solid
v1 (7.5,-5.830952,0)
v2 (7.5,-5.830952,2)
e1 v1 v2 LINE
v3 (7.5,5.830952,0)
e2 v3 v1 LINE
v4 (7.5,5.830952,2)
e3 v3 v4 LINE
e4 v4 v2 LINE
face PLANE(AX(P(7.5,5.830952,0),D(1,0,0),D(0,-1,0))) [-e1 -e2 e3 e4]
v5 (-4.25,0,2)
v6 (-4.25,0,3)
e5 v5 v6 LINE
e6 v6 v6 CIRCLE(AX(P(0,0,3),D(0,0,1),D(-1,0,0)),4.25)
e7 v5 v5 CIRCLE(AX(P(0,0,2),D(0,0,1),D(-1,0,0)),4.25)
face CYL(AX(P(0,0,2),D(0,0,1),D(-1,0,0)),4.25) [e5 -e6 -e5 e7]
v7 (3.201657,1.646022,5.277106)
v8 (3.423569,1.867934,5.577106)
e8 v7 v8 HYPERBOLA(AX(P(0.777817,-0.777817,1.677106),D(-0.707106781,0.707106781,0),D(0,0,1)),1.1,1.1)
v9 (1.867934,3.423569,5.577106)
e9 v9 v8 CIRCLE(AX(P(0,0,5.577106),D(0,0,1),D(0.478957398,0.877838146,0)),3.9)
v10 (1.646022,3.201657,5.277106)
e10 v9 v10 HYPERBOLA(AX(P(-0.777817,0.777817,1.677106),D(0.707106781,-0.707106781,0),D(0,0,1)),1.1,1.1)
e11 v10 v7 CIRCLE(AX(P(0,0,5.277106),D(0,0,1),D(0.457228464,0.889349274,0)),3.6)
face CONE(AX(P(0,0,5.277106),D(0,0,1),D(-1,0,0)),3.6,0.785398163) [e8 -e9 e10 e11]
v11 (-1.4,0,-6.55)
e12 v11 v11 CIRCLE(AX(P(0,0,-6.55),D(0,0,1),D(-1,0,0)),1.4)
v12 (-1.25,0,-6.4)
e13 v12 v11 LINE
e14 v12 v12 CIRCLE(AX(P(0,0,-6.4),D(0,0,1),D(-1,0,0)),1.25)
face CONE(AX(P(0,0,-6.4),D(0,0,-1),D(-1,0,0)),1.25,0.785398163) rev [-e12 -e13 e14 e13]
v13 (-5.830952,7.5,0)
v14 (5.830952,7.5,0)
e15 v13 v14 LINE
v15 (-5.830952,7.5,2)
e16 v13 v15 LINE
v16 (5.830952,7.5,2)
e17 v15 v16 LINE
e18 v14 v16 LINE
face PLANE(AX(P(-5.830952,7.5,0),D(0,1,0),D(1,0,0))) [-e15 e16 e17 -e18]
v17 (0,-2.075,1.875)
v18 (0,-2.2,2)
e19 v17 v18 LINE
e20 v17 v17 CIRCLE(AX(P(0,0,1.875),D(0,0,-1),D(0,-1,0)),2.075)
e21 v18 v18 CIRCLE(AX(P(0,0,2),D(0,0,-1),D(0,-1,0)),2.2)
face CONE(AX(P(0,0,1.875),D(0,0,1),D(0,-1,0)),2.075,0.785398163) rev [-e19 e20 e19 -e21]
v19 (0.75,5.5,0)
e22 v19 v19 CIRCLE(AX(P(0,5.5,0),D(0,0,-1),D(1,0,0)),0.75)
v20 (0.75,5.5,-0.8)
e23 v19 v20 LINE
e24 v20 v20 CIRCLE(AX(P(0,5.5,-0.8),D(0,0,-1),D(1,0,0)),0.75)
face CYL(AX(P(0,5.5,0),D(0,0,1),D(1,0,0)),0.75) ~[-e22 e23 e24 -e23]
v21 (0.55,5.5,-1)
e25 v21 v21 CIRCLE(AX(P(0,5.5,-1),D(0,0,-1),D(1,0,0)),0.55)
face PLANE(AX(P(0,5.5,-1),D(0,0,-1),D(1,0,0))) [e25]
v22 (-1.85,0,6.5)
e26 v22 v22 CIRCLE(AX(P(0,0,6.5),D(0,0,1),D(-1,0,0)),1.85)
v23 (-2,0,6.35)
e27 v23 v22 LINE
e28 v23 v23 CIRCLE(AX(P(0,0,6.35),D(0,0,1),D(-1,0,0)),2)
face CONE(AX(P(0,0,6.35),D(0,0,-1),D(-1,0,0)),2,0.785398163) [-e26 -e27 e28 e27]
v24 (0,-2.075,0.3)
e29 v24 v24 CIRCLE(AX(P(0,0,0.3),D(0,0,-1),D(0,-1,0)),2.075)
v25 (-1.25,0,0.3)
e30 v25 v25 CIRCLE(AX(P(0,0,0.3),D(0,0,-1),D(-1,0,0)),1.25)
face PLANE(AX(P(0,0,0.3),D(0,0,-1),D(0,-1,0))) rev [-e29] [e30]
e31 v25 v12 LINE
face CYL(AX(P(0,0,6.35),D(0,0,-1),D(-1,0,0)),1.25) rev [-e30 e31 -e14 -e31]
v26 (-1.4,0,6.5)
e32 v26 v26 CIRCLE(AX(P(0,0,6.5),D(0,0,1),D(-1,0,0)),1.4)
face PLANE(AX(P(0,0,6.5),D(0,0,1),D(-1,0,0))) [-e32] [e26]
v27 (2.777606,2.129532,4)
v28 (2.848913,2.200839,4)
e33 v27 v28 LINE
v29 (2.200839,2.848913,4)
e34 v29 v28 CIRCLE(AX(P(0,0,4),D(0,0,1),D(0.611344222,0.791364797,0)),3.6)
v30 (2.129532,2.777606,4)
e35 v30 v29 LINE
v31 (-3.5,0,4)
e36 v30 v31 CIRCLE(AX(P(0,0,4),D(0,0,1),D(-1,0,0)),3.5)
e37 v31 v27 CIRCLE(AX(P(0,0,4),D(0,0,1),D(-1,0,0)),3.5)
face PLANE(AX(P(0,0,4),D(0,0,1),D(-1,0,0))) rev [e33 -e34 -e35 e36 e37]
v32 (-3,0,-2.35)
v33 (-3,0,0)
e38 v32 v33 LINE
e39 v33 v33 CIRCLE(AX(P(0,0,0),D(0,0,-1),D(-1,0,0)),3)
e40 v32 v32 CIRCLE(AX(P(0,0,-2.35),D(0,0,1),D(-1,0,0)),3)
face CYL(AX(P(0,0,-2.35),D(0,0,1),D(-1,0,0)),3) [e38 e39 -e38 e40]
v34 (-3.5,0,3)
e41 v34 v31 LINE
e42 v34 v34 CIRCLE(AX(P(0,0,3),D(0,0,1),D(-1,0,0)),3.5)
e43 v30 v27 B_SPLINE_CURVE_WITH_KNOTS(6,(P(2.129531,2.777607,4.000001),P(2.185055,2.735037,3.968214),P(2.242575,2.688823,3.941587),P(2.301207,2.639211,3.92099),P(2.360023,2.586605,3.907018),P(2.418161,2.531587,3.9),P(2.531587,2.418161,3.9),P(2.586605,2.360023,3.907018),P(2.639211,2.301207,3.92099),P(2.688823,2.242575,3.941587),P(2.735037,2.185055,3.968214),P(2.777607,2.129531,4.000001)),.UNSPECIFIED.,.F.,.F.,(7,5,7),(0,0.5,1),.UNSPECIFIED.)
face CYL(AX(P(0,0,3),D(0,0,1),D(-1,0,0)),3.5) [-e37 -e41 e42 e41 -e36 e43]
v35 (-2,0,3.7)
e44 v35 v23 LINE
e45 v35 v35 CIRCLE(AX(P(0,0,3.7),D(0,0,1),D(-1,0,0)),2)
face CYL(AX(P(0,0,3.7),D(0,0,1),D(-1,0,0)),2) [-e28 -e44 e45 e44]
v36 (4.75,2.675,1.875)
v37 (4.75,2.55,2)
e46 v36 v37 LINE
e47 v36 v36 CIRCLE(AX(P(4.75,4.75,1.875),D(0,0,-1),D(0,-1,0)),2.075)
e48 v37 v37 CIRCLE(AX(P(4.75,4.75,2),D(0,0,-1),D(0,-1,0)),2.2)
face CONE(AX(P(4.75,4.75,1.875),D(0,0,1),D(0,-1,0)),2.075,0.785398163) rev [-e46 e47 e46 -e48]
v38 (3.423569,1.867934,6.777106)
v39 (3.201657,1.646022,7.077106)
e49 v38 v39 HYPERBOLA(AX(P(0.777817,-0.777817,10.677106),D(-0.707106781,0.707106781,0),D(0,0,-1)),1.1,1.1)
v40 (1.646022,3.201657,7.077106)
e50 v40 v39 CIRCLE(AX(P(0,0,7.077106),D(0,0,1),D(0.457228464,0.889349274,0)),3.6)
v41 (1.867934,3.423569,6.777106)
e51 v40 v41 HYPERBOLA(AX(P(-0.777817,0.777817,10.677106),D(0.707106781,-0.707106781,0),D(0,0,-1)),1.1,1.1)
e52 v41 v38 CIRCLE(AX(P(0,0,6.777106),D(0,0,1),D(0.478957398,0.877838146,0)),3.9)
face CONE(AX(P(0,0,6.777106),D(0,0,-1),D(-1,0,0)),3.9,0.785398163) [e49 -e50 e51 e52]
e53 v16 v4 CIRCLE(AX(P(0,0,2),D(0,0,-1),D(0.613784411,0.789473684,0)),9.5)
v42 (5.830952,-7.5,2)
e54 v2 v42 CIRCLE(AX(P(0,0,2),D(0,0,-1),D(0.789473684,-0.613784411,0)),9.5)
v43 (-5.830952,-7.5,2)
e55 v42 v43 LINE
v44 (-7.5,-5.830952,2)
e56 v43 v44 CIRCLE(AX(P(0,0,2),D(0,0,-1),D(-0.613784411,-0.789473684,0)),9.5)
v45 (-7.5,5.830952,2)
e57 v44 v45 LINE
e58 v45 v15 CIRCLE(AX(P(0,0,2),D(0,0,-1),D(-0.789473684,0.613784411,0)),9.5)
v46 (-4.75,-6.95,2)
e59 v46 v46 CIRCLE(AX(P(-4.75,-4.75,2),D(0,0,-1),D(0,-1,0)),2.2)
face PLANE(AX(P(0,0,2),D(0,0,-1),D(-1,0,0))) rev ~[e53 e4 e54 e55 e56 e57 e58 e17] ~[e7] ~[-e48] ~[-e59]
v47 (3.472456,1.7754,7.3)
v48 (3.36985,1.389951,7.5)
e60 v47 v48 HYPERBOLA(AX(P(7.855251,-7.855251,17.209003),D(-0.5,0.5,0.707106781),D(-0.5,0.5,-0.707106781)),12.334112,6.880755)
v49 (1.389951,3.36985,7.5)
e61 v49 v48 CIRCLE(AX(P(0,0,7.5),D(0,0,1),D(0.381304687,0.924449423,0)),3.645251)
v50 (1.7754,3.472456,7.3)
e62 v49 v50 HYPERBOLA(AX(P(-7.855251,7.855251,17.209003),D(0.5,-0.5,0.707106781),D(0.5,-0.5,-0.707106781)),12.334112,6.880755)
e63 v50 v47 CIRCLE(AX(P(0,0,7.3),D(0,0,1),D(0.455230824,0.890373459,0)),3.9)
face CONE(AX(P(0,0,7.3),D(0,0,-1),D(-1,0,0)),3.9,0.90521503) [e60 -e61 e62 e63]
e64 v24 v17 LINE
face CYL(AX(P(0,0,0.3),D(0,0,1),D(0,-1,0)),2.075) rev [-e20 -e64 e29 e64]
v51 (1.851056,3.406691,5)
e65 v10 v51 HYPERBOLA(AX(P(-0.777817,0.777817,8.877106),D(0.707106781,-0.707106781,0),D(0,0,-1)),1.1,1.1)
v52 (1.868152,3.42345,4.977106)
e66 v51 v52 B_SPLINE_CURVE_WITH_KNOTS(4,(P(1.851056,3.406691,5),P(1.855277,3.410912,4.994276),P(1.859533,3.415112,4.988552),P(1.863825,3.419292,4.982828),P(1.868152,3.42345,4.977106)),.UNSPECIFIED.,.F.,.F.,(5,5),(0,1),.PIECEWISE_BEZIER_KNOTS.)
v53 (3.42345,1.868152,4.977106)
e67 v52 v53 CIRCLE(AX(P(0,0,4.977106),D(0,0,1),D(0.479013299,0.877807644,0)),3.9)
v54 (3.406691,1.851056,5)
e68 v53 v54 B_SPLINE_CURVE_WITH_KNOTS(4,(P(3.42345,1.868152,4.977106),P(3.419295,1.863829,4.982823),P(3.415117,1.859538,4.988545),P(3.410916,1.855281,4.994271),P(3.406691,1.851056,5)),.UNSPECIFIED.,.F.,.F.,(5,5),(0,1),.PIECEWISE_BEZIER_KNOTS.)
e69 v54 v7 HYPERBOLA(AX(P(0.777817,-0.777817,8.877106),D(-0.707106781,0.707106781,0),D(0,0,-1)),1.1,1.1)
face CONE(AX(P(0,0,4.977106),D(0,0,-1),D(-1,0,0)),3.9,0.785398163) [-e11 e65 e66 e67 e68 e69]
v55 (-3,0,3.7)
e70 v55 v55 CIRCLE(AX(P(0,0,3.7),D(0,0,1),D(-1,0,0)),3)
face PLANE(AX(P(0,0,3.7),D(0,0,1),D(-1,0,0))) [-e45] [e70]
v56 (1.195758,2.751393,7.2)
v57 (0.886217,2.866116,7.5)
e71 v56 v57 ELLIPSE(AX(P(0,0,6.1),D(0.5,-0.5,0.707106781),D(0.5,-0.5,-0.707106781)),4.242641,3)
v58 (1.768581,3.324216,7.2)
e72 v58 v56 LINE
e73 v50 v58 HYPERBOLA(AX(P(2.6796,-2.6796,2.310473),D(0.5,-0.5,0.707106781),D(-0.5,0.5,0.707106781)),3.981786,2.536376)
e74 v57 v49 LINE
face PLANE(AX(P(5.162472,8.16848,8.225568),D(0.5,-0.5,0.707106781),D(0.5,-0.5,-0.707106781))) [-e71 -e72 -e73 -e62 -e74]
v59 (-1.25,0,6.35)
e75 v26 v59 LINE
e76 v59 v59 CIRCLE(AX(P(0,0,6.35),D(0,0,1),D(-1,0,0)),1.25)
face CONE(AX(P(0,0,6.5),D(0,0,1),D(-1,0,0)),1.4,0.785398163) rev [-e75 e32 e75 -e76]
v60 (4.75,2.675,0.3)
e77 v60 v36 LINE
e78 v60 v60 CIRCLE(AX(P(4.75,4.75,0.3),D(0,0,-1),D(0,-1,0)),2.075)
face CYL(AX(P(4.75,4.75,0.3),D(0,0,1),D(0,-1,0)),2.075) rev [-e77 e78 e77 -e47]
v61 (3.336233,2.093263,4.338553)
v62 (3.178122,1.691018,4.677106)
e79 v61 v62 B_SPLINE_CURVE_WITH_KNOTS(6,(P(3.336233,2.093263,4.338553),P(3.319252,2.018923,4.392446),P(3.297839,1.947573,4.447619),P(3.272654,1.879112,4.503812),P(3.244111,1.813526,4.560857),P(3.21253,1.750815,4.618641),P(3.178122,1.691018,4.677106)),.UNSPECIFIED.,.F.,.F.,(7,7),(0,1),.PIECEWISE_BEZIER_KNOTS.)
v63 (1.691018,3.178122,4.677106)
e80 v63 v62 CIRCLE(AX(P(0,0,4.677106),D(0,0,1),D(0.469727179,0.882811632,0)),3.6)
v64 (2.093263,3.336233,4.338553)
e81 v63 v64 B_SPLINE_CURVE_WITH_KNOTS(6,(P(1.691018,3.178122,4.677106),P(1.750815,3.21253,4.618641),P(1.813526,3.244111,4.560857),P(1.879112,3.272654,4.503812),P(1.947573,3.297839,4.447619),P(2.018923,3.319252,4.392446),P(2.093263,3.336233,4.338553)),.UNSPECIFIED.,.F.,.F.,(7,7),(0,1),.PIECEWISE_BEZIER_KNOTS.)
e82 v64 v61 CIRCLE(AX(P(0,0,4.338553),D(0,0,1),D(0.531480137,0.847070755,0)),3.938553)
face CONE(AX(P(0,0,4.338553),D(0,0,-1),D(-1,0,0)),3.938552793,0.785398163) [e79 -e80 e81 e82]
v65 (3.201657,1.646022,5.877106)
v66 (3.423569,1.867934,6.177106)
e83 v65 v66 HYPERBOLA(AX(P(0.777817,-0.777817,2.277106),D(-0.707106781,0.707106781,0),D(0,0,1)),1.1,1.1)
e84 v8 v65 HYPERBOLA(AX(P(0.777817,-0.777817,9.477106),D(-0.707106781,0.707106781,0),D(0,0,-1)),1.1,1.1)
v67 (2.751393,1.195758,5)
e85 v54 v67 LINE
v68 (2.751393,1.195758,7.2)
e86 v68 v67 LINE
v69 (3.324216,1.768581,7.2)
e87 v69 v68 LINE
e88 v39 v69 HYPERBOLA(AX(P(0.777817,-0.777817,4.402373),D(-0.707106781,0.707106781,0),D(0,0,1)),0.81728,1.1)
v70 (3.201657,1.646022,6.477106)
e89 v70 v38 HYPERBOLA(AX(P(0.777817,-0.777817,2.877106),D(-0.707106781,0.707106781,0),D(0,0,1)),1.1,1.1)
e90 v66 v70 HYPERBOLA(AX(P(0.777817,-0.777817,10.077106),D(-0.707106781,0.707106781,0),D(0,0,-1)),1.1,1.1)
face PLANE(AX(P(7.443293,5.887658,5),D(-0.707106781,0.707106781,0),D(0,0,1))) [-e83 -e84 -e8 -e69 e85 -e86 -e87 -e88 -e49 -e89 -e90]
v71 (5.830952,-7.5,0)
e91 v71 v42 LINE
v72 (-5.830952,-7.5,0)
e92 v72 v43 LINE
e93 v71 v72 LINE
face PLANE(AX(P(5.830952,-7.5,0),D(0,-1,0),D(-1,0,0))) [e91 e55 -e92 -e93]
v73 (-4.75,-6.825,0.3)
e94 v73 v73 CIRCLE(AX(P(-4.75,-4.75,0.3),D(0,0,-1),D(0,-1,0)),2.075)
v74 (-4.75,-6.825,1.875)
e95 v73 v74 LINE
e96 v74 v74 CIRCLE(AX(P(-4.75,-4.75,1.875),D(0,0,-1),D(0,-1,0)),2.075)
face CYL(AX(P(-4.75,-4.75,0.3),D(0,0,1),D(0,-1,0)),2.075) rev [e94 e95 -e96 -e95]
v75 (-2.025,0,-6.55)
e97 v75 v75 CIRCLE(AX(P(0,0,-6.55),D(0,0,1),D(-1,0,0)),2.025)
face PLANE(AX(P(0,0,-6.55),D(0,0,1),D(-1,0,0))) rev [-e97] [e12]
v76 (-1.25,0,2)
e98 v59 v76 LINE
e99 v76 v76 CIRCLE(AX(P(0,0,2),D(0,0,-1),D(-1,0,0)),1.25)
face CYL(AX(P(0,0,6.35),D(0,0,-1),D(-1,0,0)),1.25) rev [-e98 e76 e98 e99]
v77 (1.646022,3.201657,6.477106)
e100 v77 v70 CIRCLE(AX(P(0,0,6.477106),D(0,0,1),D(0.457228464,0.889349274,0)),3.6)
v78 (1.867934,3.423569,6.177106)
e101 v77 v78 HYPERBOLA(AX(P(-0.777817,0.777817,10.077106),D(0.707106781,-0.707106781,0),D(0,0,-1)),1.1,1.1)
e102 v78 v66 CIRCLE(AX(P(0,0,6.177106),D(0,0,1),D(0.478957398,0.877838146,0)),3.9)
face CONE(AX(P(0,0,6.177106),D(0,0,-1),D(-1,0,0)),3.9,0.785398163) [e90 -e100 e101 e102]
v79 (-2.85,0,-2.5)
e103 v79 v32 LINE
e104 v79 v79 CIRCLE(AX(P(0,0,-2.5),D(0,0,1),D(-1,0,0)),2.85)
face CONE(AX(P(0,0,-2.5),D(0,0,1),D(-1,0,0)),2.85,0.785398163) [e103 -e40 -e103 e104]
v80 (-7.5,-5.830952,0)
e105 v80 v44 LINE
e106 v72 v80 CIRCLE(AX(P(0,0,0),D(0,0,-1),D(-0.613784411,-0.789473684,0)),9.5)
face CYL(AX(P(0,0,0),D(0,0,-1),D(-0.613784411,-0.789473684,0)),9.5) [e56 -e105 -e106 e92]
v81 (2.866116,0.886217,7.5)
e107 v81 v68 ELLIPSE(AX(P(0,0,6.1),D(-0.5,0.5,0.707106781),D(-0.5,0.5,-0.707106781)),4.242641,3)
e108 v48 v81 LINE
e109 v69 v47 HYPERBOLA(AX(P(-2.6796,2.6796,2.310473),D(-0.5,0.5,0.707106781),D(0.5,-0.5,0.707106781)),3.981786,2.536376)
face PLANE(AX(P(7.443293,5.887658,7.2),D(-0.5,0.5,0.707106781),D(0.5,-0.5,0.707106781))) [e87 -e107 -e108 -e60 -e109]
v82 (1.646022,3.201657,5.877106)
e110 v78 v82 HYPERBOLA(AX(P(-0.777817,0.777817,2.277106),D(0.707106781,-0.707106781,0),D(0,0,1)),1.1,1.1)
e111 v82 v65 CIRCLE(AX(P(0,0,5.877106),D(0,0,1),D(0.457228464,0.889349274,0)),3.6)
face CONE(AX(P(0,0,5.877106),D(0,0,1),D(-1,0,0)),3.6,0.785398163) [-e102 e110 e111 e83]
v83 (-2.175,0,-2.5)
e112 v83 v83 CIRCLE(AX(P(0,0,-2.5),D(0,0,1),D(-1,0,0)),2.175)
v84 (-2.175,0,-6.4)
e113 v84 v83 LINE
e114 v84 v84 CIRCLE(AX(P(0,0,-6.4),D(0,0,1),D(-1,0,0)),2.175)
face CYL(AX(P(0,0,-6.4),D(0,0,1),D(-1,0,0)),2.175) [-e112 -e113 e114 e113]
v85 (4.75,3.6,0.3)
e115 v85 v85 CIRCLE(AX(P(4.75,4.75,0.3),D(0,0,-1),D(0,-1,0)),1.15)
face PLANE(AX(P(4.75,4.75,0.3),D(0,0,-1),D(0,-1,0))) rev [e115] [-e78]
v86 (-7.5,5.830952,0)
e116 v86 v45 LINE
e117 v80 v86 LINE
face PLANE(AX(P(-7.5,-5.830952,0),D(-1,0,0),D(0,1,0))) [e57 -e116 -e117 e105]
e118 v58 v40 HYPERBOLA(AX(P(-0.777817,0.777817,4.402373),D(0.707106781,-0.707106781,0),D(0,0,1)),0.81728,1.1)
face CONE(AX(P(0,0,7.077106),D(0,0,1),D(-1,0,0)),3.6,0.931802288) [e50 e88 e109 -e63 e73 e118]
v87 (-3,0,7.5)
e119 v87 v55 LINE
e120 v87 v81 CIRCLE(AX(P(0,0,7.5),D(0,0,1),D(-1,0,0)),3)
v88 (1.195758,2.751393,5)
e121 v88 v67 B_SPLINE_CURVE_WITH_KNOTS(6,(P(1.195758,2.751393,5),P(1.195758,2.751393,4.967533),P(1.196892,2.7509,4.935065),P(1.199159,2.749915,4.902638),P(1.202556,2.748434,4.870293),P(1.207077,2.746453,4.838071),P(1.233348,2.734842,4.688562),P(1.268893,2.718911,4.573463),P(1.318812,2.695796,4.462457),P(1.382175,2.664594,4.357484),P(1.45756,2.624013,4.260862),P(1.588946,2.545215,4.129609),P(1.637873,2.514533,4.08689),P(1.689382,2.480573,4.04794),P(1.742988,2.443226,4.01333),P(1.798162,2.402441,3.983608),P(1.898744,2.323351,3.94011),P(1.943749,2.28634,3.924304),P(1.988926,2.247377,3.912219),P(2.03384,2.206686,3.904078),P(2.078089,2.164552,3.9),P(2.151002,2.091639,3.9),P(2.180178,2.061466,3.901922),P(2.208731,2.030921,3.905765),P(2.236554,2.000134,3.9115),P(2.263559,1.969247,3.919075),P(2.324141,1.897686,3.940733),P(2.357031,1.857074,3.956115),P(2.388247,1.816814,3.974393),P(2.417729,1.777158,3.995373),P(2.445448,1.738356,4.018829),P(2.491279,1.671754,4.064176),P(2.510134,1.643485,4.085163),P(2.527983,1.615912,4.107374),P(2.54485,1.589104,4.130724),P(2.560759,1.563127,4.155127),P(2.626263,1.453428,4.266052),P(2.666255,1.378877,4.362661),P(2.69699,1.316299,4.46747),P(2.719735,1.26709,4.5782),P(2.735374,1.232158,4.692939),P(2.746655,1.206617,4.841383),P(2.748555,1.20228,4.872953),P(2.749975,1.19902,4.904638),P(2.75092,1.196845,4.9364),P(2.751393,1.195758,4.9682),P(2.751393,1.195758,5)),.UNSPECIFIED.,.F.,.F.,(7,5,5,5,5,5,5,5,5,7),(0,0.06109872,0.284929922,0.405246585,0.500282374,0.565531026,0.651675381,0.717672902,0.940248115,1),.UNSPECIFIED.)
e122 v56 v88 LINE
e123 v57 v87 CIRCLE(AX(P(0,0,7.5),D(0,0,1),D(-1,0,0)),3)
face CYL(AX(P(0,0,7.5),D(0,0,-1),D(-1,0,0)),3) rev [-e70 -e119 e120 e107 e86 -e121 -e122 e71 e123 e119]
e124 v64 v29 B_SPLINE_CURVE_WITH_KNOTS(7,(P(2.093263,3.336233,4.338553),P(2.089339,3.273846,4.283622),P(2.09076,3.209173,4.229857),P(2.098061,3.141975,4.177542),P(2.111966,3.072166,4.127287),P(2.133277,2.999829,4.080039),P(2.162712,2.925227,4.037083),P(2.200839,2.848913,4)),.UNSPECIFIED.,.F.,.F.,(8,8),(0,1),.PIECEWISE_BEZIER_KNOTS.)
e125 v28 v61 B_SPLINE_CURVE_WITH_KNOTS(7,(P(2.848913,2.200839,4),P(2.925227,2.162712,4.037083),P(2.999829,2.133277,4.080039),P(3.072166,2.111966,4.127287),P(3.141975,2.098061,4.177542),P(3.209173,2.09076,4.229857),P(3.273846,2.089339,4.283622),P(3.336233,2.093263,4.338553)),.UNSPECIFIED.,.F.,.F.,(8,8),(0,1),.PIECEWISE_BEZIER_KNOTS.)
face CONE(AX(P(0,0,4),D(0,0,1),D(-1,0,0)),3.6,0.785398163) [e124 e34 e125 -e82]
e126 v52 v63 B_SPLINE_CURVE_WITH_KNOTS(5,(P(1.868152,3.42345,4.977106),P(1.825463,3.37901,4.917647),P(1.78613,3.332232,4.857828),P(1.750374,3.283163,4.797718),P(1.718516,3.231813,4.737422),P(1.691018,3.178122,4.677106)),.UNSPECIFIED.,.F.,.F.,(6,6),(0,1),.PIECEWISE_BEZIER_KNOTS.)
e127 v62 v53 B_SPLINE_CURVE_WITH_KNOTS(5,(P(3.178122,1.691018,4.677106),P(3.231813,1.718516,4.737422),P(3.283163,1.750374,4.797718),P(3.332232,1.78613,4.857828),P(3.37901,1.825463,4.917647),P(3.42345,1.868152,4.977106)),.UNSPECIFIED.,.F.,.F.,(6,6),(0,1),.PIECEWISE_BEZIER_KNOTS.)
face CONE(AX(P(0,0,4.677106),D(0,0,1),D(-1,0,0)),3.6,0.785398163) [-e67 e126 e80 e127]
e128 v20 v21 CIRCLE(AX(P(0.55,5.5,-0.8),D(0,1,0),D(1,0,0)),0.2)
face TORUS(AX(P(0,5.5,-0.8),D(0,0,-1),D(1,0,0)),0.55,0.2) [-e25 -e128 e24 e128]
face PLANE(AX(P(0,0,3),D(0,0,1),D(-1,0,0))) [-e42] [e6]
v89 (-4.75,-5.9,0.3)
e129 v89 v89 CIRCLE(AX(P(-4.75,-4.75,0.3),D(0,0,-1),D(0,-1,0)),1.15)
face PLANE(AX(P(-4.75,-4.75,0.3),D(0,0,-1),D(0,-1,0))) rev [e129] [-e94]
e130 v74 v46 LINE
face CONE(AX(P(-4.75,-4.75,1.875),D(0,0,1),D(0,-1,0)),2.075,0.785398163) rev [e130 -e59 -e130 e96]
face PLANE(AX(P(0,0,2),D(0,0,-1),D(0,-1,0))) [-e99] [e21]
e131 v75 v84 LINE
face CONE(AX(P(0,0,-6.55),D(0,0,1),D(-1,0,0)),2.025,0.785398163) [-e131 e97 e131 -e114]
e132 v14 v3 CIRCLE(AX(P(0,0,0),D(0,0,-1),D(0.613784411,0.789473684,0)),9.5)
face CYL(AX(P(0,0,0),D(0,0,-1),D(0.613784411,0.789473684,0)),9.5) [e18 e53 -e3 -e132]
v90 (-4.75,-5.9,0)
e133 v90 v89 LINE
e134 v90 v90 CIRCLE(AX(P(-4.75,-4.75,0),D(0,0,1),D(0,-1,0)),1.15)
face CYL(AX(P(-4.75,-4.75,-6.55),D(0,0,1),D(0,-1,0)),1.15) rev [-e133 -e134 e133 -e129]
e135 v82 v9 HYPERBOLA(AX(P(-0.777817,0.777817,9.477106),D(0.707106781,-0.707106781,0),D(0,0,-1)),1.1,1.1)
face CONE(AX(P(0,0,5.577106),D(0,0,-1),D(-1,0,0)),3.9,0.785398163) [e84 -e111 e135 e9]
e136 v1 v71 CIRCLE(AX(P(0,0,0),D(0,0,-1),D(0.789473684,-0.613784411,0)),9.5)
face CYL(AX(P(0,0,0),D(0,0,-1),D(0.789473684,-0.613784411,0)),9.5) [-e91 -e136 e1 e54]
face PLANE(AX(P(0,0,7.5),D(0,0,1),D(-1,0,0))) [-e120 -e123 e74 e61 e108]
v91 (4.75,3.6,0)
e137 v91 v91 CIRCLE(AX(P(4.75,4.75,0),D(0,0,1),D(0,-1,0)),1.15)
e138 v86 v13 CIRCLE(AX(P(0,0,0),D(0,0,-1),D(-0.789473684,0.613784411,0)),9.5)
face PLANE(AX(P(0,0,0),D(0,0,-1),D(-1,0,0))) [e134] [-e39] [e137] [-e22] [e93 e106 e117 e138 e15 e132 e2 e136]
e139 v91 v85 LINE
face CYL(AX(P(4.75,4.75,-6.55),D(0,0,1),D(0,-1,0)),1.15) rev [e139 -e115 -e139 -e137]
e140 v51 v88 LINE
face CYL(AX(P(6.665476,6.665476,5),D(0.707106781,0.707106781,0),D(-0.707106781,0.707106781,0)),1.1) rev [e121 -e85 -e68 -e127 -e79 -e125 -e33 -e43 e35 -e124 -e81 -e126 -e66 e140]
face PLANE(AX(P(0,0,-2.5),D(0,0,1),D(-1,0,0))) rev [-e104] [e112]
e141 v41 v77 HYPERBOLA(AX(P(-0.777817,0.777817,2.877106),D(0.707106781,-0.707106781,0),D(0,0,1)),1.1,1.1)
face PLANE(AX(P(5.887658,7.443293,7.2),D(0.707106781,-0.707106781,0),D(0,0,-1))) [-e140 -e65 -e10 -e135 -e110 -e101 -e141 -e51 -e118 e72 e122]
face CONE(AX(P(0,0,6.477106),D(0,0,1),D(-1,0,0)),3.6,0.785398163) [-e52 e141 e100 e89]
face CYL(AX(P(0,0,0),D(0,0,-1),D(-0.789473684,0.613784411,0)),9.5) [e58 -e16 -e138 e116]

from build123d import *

# Parameters (mm, degrees)
ESQUISSE1_R                                = 3
BOSS_EXTRU_1_DEPTH                         = 2
CHAMBRAGE_POUR_VIS_T_TE_HEXAGONALE_2_COUNT = 2
CHAMBRAGE_POUR_VIS_T_TE_HEXAGONALE_2_PITCH = 13.435028843
CHAMBRAGE_POUR_VIS_T_TE_HEXAGONALE_3_COUNT = 2
CHAMBRAGE_POUR_VIS_T_TE_HEXAGONALE_3_PITCH = 6.717514421
ENL_V_MAT_EXTRU_1_DEPTH                    = 7.3
ESQUISSE10_R                               = 0.75
BOSS_EXTRU_2_DEPTH                         = 1
CONG_1_R                                   = 0.2


with BuildPart() as part:
    # Esquisse1 → Boss.-Extru.1 (new body)
    with BuildSketch(Plane.XY):
        with BuildLine():
            Line((-5.830951895, 7.5), (5.830951895, 7.5))
            ThreePointArc((5.830951895, 7.5), (6.717514421, 6.717514421), (7.5, 5.830951895))
            Line((7.5, 5.830951895), (7.5, -5.830951895))
            ThreePointArc((7.5, -5.830951895), (6.717514421, -6.717514421), (5.830951895, -7.5))
            Line((5.830951895, -7.5), (-5.830951895, -7.5))
            ThreePointArc((-5.830951895, -7.5), (-6.717514421, -6.717514421), (-7.5, -5.830951895))
            Line((-7.5, -5.830951895), (-7.5, 5.830951895))
            ThreePointArc((-7.5, 5.830951895), (-6.717514421, 6.717514421), (-5.830951895, 7.5))
        make_face()
        Circle(ESQUISSE1_R, mode=Mode.SUBTRACT)
    extrude(amount=BOSS_EXTRU_1_DEPTH)

    # Esquisse3 → Révolution1 (revolve)
    with BuildSketch(Plane(origin=(0, 0, 0), x_dir=(0, 0, -1), z_dir=(1, 0, 0)), mode=Mode.PRIVATE) as r_volution1_sk:
        Polygon((-7.5, 3.645251177), (-7.5, 3), (-3.7, 3), (-3.7, 2), (-6.35, 2), (-6.5, 1.85), (-6.5, 1.4), (-6.35, 1.25), (6.4, 1.25), (6.55, 1.4), (6.55, 2.025), (6.4, 2.175), (2.5, 2.175), (2.5, 2.85), (2.35, 3), (-2, 3), (-2, 4.25), (-3, 4.25), (-3, 3.5), (-4, 3.5), (-4, 3.6), (-4.338552793, 3.938552793), (-4.677105586, 3.6), (-4.977105586, 3.9), (-5.277105586, 3.6), (-5.577105586, 3.9), (-5.877105586, 3.6), (-6.177105586, 3.9), (-6.477105586, 3.6), (-6.777105586, 3.9), (-7.077105586, 3.6), (-7.3, 3.9), align=None)
    revolve(r_volution1_sk.sketch.rotate(Axis((0, 0, -5.875), (0, 0, 1)), 90), axis=Axis((0, 0, -5.875), (0, 0, 1)))

    # Esquisse6 → Chambrage pour vis à tête hexagonale M31 (revolve, cut)
    with BuildSketch(Plane(origin=(4.75, 4.75, 2), x_dir=(0, -1, 0), z_dir=(1, 0, 0))):
        Polygon((0, 0), (0, 8.55), (1.15, 8.55), (1.15, 1.7), (2.075, 1.7), (2.075, 0.125), (2.2, 0), align=None)
    chambrage_pour_vis_t_te_hexagonale_m31 = revolve(axis=Axis((4.75, 4.75, 8.35), (0, 0, -1)), mode=Mode.SUBTRACT)

    # Chambrage pour vis _ t_te hexagonale 2: Chambrage pour vis à tête hexagonale M31 ×2
    with Locations(*[Vector(-0.7071067811865475, -0.7071067811865477, 0) * (i * CHAMBRAGE_POUR_VIS_T_TE_HEXAGONALE_2_PITCH) for i in range(1, CHAMBRAGE_POUR_VIS_T_TE_HEXAGONALE_2_COUNT)]):
        add(chambrage_pour_vis_t_te_hexagonale_m31, mode=Mode.SUBTRACT)

    # Chambrage pour vis _ t_te hexagonale 3: Chambrage pour vis à tête hexagonale M31 ×2
    with Locations(*[Vector(-0.7071067811865475, -0.7071067811865477, 0) * (i * CHAMBRAGE_POUR_VIS_T_TE_HEXAGONALE_3_PITCH) for i in range(1, CHAMBRAGE_POUR_VIS_T_TE_HEXAGONALE_3_COUNT)]):
        add(chambrage_pour_vis_t_te_hexagonale_m31, mode=Mode.SUBTRACT)

    # Esquisse9 → Enlèv. mat.-Extru.1 (cut)
    with BuildSketch(Plane(origin=(6.665475947, 6.665475947, 0), x_dir=(-0.7071067811865462, 0.7071067811865488, 0), z_dir=(0.7071067811865488, 0.7071067811865462, 0))):
        with BuildLine():
            Line((1.1, 7.2), (1.1, 5))
            ThreePointArc((1.1, 5), (0, 3.9), (-1.1, 5))
            Line((-1.1, 5), (-1.1, 7.2))
            Line((-1.1, 7.2), (-2.12556829, 8.22556829))
            Line((-2.12556829, 8.22556829), (2.12556829, 8.22556829))
            Line((2.12556829, 8.22556829), (1.1, 7.2))
        make_face()
    extrude(amount=-ENL_V_MAT_EXTRU_1_DEPTH, mode=Mode.SUBTRACT)

    # Esquisse10 → Boss.-Extru.2 (add)
    with BuildSketch(Plane(origin=(0, 0, 0), x_dir=(-1, 0, 0), z_dir=(0, 0, -1))):
        with Locations(Location((0, 5.5, 0), (0, 0, 180))):
            Circle(ESQUISSE10_R)
    extrude(amount=BOSS_EXTRU_2_DEPTH)

    # Congé1
    cong_1_edges = [part.edges().sort_by_distance(p)[0] for p in [
        (-0.75, 5.5, -1),
    ]]
    fillet(cong_1_edges, radius=CONG_1_R)


solid = part.part
